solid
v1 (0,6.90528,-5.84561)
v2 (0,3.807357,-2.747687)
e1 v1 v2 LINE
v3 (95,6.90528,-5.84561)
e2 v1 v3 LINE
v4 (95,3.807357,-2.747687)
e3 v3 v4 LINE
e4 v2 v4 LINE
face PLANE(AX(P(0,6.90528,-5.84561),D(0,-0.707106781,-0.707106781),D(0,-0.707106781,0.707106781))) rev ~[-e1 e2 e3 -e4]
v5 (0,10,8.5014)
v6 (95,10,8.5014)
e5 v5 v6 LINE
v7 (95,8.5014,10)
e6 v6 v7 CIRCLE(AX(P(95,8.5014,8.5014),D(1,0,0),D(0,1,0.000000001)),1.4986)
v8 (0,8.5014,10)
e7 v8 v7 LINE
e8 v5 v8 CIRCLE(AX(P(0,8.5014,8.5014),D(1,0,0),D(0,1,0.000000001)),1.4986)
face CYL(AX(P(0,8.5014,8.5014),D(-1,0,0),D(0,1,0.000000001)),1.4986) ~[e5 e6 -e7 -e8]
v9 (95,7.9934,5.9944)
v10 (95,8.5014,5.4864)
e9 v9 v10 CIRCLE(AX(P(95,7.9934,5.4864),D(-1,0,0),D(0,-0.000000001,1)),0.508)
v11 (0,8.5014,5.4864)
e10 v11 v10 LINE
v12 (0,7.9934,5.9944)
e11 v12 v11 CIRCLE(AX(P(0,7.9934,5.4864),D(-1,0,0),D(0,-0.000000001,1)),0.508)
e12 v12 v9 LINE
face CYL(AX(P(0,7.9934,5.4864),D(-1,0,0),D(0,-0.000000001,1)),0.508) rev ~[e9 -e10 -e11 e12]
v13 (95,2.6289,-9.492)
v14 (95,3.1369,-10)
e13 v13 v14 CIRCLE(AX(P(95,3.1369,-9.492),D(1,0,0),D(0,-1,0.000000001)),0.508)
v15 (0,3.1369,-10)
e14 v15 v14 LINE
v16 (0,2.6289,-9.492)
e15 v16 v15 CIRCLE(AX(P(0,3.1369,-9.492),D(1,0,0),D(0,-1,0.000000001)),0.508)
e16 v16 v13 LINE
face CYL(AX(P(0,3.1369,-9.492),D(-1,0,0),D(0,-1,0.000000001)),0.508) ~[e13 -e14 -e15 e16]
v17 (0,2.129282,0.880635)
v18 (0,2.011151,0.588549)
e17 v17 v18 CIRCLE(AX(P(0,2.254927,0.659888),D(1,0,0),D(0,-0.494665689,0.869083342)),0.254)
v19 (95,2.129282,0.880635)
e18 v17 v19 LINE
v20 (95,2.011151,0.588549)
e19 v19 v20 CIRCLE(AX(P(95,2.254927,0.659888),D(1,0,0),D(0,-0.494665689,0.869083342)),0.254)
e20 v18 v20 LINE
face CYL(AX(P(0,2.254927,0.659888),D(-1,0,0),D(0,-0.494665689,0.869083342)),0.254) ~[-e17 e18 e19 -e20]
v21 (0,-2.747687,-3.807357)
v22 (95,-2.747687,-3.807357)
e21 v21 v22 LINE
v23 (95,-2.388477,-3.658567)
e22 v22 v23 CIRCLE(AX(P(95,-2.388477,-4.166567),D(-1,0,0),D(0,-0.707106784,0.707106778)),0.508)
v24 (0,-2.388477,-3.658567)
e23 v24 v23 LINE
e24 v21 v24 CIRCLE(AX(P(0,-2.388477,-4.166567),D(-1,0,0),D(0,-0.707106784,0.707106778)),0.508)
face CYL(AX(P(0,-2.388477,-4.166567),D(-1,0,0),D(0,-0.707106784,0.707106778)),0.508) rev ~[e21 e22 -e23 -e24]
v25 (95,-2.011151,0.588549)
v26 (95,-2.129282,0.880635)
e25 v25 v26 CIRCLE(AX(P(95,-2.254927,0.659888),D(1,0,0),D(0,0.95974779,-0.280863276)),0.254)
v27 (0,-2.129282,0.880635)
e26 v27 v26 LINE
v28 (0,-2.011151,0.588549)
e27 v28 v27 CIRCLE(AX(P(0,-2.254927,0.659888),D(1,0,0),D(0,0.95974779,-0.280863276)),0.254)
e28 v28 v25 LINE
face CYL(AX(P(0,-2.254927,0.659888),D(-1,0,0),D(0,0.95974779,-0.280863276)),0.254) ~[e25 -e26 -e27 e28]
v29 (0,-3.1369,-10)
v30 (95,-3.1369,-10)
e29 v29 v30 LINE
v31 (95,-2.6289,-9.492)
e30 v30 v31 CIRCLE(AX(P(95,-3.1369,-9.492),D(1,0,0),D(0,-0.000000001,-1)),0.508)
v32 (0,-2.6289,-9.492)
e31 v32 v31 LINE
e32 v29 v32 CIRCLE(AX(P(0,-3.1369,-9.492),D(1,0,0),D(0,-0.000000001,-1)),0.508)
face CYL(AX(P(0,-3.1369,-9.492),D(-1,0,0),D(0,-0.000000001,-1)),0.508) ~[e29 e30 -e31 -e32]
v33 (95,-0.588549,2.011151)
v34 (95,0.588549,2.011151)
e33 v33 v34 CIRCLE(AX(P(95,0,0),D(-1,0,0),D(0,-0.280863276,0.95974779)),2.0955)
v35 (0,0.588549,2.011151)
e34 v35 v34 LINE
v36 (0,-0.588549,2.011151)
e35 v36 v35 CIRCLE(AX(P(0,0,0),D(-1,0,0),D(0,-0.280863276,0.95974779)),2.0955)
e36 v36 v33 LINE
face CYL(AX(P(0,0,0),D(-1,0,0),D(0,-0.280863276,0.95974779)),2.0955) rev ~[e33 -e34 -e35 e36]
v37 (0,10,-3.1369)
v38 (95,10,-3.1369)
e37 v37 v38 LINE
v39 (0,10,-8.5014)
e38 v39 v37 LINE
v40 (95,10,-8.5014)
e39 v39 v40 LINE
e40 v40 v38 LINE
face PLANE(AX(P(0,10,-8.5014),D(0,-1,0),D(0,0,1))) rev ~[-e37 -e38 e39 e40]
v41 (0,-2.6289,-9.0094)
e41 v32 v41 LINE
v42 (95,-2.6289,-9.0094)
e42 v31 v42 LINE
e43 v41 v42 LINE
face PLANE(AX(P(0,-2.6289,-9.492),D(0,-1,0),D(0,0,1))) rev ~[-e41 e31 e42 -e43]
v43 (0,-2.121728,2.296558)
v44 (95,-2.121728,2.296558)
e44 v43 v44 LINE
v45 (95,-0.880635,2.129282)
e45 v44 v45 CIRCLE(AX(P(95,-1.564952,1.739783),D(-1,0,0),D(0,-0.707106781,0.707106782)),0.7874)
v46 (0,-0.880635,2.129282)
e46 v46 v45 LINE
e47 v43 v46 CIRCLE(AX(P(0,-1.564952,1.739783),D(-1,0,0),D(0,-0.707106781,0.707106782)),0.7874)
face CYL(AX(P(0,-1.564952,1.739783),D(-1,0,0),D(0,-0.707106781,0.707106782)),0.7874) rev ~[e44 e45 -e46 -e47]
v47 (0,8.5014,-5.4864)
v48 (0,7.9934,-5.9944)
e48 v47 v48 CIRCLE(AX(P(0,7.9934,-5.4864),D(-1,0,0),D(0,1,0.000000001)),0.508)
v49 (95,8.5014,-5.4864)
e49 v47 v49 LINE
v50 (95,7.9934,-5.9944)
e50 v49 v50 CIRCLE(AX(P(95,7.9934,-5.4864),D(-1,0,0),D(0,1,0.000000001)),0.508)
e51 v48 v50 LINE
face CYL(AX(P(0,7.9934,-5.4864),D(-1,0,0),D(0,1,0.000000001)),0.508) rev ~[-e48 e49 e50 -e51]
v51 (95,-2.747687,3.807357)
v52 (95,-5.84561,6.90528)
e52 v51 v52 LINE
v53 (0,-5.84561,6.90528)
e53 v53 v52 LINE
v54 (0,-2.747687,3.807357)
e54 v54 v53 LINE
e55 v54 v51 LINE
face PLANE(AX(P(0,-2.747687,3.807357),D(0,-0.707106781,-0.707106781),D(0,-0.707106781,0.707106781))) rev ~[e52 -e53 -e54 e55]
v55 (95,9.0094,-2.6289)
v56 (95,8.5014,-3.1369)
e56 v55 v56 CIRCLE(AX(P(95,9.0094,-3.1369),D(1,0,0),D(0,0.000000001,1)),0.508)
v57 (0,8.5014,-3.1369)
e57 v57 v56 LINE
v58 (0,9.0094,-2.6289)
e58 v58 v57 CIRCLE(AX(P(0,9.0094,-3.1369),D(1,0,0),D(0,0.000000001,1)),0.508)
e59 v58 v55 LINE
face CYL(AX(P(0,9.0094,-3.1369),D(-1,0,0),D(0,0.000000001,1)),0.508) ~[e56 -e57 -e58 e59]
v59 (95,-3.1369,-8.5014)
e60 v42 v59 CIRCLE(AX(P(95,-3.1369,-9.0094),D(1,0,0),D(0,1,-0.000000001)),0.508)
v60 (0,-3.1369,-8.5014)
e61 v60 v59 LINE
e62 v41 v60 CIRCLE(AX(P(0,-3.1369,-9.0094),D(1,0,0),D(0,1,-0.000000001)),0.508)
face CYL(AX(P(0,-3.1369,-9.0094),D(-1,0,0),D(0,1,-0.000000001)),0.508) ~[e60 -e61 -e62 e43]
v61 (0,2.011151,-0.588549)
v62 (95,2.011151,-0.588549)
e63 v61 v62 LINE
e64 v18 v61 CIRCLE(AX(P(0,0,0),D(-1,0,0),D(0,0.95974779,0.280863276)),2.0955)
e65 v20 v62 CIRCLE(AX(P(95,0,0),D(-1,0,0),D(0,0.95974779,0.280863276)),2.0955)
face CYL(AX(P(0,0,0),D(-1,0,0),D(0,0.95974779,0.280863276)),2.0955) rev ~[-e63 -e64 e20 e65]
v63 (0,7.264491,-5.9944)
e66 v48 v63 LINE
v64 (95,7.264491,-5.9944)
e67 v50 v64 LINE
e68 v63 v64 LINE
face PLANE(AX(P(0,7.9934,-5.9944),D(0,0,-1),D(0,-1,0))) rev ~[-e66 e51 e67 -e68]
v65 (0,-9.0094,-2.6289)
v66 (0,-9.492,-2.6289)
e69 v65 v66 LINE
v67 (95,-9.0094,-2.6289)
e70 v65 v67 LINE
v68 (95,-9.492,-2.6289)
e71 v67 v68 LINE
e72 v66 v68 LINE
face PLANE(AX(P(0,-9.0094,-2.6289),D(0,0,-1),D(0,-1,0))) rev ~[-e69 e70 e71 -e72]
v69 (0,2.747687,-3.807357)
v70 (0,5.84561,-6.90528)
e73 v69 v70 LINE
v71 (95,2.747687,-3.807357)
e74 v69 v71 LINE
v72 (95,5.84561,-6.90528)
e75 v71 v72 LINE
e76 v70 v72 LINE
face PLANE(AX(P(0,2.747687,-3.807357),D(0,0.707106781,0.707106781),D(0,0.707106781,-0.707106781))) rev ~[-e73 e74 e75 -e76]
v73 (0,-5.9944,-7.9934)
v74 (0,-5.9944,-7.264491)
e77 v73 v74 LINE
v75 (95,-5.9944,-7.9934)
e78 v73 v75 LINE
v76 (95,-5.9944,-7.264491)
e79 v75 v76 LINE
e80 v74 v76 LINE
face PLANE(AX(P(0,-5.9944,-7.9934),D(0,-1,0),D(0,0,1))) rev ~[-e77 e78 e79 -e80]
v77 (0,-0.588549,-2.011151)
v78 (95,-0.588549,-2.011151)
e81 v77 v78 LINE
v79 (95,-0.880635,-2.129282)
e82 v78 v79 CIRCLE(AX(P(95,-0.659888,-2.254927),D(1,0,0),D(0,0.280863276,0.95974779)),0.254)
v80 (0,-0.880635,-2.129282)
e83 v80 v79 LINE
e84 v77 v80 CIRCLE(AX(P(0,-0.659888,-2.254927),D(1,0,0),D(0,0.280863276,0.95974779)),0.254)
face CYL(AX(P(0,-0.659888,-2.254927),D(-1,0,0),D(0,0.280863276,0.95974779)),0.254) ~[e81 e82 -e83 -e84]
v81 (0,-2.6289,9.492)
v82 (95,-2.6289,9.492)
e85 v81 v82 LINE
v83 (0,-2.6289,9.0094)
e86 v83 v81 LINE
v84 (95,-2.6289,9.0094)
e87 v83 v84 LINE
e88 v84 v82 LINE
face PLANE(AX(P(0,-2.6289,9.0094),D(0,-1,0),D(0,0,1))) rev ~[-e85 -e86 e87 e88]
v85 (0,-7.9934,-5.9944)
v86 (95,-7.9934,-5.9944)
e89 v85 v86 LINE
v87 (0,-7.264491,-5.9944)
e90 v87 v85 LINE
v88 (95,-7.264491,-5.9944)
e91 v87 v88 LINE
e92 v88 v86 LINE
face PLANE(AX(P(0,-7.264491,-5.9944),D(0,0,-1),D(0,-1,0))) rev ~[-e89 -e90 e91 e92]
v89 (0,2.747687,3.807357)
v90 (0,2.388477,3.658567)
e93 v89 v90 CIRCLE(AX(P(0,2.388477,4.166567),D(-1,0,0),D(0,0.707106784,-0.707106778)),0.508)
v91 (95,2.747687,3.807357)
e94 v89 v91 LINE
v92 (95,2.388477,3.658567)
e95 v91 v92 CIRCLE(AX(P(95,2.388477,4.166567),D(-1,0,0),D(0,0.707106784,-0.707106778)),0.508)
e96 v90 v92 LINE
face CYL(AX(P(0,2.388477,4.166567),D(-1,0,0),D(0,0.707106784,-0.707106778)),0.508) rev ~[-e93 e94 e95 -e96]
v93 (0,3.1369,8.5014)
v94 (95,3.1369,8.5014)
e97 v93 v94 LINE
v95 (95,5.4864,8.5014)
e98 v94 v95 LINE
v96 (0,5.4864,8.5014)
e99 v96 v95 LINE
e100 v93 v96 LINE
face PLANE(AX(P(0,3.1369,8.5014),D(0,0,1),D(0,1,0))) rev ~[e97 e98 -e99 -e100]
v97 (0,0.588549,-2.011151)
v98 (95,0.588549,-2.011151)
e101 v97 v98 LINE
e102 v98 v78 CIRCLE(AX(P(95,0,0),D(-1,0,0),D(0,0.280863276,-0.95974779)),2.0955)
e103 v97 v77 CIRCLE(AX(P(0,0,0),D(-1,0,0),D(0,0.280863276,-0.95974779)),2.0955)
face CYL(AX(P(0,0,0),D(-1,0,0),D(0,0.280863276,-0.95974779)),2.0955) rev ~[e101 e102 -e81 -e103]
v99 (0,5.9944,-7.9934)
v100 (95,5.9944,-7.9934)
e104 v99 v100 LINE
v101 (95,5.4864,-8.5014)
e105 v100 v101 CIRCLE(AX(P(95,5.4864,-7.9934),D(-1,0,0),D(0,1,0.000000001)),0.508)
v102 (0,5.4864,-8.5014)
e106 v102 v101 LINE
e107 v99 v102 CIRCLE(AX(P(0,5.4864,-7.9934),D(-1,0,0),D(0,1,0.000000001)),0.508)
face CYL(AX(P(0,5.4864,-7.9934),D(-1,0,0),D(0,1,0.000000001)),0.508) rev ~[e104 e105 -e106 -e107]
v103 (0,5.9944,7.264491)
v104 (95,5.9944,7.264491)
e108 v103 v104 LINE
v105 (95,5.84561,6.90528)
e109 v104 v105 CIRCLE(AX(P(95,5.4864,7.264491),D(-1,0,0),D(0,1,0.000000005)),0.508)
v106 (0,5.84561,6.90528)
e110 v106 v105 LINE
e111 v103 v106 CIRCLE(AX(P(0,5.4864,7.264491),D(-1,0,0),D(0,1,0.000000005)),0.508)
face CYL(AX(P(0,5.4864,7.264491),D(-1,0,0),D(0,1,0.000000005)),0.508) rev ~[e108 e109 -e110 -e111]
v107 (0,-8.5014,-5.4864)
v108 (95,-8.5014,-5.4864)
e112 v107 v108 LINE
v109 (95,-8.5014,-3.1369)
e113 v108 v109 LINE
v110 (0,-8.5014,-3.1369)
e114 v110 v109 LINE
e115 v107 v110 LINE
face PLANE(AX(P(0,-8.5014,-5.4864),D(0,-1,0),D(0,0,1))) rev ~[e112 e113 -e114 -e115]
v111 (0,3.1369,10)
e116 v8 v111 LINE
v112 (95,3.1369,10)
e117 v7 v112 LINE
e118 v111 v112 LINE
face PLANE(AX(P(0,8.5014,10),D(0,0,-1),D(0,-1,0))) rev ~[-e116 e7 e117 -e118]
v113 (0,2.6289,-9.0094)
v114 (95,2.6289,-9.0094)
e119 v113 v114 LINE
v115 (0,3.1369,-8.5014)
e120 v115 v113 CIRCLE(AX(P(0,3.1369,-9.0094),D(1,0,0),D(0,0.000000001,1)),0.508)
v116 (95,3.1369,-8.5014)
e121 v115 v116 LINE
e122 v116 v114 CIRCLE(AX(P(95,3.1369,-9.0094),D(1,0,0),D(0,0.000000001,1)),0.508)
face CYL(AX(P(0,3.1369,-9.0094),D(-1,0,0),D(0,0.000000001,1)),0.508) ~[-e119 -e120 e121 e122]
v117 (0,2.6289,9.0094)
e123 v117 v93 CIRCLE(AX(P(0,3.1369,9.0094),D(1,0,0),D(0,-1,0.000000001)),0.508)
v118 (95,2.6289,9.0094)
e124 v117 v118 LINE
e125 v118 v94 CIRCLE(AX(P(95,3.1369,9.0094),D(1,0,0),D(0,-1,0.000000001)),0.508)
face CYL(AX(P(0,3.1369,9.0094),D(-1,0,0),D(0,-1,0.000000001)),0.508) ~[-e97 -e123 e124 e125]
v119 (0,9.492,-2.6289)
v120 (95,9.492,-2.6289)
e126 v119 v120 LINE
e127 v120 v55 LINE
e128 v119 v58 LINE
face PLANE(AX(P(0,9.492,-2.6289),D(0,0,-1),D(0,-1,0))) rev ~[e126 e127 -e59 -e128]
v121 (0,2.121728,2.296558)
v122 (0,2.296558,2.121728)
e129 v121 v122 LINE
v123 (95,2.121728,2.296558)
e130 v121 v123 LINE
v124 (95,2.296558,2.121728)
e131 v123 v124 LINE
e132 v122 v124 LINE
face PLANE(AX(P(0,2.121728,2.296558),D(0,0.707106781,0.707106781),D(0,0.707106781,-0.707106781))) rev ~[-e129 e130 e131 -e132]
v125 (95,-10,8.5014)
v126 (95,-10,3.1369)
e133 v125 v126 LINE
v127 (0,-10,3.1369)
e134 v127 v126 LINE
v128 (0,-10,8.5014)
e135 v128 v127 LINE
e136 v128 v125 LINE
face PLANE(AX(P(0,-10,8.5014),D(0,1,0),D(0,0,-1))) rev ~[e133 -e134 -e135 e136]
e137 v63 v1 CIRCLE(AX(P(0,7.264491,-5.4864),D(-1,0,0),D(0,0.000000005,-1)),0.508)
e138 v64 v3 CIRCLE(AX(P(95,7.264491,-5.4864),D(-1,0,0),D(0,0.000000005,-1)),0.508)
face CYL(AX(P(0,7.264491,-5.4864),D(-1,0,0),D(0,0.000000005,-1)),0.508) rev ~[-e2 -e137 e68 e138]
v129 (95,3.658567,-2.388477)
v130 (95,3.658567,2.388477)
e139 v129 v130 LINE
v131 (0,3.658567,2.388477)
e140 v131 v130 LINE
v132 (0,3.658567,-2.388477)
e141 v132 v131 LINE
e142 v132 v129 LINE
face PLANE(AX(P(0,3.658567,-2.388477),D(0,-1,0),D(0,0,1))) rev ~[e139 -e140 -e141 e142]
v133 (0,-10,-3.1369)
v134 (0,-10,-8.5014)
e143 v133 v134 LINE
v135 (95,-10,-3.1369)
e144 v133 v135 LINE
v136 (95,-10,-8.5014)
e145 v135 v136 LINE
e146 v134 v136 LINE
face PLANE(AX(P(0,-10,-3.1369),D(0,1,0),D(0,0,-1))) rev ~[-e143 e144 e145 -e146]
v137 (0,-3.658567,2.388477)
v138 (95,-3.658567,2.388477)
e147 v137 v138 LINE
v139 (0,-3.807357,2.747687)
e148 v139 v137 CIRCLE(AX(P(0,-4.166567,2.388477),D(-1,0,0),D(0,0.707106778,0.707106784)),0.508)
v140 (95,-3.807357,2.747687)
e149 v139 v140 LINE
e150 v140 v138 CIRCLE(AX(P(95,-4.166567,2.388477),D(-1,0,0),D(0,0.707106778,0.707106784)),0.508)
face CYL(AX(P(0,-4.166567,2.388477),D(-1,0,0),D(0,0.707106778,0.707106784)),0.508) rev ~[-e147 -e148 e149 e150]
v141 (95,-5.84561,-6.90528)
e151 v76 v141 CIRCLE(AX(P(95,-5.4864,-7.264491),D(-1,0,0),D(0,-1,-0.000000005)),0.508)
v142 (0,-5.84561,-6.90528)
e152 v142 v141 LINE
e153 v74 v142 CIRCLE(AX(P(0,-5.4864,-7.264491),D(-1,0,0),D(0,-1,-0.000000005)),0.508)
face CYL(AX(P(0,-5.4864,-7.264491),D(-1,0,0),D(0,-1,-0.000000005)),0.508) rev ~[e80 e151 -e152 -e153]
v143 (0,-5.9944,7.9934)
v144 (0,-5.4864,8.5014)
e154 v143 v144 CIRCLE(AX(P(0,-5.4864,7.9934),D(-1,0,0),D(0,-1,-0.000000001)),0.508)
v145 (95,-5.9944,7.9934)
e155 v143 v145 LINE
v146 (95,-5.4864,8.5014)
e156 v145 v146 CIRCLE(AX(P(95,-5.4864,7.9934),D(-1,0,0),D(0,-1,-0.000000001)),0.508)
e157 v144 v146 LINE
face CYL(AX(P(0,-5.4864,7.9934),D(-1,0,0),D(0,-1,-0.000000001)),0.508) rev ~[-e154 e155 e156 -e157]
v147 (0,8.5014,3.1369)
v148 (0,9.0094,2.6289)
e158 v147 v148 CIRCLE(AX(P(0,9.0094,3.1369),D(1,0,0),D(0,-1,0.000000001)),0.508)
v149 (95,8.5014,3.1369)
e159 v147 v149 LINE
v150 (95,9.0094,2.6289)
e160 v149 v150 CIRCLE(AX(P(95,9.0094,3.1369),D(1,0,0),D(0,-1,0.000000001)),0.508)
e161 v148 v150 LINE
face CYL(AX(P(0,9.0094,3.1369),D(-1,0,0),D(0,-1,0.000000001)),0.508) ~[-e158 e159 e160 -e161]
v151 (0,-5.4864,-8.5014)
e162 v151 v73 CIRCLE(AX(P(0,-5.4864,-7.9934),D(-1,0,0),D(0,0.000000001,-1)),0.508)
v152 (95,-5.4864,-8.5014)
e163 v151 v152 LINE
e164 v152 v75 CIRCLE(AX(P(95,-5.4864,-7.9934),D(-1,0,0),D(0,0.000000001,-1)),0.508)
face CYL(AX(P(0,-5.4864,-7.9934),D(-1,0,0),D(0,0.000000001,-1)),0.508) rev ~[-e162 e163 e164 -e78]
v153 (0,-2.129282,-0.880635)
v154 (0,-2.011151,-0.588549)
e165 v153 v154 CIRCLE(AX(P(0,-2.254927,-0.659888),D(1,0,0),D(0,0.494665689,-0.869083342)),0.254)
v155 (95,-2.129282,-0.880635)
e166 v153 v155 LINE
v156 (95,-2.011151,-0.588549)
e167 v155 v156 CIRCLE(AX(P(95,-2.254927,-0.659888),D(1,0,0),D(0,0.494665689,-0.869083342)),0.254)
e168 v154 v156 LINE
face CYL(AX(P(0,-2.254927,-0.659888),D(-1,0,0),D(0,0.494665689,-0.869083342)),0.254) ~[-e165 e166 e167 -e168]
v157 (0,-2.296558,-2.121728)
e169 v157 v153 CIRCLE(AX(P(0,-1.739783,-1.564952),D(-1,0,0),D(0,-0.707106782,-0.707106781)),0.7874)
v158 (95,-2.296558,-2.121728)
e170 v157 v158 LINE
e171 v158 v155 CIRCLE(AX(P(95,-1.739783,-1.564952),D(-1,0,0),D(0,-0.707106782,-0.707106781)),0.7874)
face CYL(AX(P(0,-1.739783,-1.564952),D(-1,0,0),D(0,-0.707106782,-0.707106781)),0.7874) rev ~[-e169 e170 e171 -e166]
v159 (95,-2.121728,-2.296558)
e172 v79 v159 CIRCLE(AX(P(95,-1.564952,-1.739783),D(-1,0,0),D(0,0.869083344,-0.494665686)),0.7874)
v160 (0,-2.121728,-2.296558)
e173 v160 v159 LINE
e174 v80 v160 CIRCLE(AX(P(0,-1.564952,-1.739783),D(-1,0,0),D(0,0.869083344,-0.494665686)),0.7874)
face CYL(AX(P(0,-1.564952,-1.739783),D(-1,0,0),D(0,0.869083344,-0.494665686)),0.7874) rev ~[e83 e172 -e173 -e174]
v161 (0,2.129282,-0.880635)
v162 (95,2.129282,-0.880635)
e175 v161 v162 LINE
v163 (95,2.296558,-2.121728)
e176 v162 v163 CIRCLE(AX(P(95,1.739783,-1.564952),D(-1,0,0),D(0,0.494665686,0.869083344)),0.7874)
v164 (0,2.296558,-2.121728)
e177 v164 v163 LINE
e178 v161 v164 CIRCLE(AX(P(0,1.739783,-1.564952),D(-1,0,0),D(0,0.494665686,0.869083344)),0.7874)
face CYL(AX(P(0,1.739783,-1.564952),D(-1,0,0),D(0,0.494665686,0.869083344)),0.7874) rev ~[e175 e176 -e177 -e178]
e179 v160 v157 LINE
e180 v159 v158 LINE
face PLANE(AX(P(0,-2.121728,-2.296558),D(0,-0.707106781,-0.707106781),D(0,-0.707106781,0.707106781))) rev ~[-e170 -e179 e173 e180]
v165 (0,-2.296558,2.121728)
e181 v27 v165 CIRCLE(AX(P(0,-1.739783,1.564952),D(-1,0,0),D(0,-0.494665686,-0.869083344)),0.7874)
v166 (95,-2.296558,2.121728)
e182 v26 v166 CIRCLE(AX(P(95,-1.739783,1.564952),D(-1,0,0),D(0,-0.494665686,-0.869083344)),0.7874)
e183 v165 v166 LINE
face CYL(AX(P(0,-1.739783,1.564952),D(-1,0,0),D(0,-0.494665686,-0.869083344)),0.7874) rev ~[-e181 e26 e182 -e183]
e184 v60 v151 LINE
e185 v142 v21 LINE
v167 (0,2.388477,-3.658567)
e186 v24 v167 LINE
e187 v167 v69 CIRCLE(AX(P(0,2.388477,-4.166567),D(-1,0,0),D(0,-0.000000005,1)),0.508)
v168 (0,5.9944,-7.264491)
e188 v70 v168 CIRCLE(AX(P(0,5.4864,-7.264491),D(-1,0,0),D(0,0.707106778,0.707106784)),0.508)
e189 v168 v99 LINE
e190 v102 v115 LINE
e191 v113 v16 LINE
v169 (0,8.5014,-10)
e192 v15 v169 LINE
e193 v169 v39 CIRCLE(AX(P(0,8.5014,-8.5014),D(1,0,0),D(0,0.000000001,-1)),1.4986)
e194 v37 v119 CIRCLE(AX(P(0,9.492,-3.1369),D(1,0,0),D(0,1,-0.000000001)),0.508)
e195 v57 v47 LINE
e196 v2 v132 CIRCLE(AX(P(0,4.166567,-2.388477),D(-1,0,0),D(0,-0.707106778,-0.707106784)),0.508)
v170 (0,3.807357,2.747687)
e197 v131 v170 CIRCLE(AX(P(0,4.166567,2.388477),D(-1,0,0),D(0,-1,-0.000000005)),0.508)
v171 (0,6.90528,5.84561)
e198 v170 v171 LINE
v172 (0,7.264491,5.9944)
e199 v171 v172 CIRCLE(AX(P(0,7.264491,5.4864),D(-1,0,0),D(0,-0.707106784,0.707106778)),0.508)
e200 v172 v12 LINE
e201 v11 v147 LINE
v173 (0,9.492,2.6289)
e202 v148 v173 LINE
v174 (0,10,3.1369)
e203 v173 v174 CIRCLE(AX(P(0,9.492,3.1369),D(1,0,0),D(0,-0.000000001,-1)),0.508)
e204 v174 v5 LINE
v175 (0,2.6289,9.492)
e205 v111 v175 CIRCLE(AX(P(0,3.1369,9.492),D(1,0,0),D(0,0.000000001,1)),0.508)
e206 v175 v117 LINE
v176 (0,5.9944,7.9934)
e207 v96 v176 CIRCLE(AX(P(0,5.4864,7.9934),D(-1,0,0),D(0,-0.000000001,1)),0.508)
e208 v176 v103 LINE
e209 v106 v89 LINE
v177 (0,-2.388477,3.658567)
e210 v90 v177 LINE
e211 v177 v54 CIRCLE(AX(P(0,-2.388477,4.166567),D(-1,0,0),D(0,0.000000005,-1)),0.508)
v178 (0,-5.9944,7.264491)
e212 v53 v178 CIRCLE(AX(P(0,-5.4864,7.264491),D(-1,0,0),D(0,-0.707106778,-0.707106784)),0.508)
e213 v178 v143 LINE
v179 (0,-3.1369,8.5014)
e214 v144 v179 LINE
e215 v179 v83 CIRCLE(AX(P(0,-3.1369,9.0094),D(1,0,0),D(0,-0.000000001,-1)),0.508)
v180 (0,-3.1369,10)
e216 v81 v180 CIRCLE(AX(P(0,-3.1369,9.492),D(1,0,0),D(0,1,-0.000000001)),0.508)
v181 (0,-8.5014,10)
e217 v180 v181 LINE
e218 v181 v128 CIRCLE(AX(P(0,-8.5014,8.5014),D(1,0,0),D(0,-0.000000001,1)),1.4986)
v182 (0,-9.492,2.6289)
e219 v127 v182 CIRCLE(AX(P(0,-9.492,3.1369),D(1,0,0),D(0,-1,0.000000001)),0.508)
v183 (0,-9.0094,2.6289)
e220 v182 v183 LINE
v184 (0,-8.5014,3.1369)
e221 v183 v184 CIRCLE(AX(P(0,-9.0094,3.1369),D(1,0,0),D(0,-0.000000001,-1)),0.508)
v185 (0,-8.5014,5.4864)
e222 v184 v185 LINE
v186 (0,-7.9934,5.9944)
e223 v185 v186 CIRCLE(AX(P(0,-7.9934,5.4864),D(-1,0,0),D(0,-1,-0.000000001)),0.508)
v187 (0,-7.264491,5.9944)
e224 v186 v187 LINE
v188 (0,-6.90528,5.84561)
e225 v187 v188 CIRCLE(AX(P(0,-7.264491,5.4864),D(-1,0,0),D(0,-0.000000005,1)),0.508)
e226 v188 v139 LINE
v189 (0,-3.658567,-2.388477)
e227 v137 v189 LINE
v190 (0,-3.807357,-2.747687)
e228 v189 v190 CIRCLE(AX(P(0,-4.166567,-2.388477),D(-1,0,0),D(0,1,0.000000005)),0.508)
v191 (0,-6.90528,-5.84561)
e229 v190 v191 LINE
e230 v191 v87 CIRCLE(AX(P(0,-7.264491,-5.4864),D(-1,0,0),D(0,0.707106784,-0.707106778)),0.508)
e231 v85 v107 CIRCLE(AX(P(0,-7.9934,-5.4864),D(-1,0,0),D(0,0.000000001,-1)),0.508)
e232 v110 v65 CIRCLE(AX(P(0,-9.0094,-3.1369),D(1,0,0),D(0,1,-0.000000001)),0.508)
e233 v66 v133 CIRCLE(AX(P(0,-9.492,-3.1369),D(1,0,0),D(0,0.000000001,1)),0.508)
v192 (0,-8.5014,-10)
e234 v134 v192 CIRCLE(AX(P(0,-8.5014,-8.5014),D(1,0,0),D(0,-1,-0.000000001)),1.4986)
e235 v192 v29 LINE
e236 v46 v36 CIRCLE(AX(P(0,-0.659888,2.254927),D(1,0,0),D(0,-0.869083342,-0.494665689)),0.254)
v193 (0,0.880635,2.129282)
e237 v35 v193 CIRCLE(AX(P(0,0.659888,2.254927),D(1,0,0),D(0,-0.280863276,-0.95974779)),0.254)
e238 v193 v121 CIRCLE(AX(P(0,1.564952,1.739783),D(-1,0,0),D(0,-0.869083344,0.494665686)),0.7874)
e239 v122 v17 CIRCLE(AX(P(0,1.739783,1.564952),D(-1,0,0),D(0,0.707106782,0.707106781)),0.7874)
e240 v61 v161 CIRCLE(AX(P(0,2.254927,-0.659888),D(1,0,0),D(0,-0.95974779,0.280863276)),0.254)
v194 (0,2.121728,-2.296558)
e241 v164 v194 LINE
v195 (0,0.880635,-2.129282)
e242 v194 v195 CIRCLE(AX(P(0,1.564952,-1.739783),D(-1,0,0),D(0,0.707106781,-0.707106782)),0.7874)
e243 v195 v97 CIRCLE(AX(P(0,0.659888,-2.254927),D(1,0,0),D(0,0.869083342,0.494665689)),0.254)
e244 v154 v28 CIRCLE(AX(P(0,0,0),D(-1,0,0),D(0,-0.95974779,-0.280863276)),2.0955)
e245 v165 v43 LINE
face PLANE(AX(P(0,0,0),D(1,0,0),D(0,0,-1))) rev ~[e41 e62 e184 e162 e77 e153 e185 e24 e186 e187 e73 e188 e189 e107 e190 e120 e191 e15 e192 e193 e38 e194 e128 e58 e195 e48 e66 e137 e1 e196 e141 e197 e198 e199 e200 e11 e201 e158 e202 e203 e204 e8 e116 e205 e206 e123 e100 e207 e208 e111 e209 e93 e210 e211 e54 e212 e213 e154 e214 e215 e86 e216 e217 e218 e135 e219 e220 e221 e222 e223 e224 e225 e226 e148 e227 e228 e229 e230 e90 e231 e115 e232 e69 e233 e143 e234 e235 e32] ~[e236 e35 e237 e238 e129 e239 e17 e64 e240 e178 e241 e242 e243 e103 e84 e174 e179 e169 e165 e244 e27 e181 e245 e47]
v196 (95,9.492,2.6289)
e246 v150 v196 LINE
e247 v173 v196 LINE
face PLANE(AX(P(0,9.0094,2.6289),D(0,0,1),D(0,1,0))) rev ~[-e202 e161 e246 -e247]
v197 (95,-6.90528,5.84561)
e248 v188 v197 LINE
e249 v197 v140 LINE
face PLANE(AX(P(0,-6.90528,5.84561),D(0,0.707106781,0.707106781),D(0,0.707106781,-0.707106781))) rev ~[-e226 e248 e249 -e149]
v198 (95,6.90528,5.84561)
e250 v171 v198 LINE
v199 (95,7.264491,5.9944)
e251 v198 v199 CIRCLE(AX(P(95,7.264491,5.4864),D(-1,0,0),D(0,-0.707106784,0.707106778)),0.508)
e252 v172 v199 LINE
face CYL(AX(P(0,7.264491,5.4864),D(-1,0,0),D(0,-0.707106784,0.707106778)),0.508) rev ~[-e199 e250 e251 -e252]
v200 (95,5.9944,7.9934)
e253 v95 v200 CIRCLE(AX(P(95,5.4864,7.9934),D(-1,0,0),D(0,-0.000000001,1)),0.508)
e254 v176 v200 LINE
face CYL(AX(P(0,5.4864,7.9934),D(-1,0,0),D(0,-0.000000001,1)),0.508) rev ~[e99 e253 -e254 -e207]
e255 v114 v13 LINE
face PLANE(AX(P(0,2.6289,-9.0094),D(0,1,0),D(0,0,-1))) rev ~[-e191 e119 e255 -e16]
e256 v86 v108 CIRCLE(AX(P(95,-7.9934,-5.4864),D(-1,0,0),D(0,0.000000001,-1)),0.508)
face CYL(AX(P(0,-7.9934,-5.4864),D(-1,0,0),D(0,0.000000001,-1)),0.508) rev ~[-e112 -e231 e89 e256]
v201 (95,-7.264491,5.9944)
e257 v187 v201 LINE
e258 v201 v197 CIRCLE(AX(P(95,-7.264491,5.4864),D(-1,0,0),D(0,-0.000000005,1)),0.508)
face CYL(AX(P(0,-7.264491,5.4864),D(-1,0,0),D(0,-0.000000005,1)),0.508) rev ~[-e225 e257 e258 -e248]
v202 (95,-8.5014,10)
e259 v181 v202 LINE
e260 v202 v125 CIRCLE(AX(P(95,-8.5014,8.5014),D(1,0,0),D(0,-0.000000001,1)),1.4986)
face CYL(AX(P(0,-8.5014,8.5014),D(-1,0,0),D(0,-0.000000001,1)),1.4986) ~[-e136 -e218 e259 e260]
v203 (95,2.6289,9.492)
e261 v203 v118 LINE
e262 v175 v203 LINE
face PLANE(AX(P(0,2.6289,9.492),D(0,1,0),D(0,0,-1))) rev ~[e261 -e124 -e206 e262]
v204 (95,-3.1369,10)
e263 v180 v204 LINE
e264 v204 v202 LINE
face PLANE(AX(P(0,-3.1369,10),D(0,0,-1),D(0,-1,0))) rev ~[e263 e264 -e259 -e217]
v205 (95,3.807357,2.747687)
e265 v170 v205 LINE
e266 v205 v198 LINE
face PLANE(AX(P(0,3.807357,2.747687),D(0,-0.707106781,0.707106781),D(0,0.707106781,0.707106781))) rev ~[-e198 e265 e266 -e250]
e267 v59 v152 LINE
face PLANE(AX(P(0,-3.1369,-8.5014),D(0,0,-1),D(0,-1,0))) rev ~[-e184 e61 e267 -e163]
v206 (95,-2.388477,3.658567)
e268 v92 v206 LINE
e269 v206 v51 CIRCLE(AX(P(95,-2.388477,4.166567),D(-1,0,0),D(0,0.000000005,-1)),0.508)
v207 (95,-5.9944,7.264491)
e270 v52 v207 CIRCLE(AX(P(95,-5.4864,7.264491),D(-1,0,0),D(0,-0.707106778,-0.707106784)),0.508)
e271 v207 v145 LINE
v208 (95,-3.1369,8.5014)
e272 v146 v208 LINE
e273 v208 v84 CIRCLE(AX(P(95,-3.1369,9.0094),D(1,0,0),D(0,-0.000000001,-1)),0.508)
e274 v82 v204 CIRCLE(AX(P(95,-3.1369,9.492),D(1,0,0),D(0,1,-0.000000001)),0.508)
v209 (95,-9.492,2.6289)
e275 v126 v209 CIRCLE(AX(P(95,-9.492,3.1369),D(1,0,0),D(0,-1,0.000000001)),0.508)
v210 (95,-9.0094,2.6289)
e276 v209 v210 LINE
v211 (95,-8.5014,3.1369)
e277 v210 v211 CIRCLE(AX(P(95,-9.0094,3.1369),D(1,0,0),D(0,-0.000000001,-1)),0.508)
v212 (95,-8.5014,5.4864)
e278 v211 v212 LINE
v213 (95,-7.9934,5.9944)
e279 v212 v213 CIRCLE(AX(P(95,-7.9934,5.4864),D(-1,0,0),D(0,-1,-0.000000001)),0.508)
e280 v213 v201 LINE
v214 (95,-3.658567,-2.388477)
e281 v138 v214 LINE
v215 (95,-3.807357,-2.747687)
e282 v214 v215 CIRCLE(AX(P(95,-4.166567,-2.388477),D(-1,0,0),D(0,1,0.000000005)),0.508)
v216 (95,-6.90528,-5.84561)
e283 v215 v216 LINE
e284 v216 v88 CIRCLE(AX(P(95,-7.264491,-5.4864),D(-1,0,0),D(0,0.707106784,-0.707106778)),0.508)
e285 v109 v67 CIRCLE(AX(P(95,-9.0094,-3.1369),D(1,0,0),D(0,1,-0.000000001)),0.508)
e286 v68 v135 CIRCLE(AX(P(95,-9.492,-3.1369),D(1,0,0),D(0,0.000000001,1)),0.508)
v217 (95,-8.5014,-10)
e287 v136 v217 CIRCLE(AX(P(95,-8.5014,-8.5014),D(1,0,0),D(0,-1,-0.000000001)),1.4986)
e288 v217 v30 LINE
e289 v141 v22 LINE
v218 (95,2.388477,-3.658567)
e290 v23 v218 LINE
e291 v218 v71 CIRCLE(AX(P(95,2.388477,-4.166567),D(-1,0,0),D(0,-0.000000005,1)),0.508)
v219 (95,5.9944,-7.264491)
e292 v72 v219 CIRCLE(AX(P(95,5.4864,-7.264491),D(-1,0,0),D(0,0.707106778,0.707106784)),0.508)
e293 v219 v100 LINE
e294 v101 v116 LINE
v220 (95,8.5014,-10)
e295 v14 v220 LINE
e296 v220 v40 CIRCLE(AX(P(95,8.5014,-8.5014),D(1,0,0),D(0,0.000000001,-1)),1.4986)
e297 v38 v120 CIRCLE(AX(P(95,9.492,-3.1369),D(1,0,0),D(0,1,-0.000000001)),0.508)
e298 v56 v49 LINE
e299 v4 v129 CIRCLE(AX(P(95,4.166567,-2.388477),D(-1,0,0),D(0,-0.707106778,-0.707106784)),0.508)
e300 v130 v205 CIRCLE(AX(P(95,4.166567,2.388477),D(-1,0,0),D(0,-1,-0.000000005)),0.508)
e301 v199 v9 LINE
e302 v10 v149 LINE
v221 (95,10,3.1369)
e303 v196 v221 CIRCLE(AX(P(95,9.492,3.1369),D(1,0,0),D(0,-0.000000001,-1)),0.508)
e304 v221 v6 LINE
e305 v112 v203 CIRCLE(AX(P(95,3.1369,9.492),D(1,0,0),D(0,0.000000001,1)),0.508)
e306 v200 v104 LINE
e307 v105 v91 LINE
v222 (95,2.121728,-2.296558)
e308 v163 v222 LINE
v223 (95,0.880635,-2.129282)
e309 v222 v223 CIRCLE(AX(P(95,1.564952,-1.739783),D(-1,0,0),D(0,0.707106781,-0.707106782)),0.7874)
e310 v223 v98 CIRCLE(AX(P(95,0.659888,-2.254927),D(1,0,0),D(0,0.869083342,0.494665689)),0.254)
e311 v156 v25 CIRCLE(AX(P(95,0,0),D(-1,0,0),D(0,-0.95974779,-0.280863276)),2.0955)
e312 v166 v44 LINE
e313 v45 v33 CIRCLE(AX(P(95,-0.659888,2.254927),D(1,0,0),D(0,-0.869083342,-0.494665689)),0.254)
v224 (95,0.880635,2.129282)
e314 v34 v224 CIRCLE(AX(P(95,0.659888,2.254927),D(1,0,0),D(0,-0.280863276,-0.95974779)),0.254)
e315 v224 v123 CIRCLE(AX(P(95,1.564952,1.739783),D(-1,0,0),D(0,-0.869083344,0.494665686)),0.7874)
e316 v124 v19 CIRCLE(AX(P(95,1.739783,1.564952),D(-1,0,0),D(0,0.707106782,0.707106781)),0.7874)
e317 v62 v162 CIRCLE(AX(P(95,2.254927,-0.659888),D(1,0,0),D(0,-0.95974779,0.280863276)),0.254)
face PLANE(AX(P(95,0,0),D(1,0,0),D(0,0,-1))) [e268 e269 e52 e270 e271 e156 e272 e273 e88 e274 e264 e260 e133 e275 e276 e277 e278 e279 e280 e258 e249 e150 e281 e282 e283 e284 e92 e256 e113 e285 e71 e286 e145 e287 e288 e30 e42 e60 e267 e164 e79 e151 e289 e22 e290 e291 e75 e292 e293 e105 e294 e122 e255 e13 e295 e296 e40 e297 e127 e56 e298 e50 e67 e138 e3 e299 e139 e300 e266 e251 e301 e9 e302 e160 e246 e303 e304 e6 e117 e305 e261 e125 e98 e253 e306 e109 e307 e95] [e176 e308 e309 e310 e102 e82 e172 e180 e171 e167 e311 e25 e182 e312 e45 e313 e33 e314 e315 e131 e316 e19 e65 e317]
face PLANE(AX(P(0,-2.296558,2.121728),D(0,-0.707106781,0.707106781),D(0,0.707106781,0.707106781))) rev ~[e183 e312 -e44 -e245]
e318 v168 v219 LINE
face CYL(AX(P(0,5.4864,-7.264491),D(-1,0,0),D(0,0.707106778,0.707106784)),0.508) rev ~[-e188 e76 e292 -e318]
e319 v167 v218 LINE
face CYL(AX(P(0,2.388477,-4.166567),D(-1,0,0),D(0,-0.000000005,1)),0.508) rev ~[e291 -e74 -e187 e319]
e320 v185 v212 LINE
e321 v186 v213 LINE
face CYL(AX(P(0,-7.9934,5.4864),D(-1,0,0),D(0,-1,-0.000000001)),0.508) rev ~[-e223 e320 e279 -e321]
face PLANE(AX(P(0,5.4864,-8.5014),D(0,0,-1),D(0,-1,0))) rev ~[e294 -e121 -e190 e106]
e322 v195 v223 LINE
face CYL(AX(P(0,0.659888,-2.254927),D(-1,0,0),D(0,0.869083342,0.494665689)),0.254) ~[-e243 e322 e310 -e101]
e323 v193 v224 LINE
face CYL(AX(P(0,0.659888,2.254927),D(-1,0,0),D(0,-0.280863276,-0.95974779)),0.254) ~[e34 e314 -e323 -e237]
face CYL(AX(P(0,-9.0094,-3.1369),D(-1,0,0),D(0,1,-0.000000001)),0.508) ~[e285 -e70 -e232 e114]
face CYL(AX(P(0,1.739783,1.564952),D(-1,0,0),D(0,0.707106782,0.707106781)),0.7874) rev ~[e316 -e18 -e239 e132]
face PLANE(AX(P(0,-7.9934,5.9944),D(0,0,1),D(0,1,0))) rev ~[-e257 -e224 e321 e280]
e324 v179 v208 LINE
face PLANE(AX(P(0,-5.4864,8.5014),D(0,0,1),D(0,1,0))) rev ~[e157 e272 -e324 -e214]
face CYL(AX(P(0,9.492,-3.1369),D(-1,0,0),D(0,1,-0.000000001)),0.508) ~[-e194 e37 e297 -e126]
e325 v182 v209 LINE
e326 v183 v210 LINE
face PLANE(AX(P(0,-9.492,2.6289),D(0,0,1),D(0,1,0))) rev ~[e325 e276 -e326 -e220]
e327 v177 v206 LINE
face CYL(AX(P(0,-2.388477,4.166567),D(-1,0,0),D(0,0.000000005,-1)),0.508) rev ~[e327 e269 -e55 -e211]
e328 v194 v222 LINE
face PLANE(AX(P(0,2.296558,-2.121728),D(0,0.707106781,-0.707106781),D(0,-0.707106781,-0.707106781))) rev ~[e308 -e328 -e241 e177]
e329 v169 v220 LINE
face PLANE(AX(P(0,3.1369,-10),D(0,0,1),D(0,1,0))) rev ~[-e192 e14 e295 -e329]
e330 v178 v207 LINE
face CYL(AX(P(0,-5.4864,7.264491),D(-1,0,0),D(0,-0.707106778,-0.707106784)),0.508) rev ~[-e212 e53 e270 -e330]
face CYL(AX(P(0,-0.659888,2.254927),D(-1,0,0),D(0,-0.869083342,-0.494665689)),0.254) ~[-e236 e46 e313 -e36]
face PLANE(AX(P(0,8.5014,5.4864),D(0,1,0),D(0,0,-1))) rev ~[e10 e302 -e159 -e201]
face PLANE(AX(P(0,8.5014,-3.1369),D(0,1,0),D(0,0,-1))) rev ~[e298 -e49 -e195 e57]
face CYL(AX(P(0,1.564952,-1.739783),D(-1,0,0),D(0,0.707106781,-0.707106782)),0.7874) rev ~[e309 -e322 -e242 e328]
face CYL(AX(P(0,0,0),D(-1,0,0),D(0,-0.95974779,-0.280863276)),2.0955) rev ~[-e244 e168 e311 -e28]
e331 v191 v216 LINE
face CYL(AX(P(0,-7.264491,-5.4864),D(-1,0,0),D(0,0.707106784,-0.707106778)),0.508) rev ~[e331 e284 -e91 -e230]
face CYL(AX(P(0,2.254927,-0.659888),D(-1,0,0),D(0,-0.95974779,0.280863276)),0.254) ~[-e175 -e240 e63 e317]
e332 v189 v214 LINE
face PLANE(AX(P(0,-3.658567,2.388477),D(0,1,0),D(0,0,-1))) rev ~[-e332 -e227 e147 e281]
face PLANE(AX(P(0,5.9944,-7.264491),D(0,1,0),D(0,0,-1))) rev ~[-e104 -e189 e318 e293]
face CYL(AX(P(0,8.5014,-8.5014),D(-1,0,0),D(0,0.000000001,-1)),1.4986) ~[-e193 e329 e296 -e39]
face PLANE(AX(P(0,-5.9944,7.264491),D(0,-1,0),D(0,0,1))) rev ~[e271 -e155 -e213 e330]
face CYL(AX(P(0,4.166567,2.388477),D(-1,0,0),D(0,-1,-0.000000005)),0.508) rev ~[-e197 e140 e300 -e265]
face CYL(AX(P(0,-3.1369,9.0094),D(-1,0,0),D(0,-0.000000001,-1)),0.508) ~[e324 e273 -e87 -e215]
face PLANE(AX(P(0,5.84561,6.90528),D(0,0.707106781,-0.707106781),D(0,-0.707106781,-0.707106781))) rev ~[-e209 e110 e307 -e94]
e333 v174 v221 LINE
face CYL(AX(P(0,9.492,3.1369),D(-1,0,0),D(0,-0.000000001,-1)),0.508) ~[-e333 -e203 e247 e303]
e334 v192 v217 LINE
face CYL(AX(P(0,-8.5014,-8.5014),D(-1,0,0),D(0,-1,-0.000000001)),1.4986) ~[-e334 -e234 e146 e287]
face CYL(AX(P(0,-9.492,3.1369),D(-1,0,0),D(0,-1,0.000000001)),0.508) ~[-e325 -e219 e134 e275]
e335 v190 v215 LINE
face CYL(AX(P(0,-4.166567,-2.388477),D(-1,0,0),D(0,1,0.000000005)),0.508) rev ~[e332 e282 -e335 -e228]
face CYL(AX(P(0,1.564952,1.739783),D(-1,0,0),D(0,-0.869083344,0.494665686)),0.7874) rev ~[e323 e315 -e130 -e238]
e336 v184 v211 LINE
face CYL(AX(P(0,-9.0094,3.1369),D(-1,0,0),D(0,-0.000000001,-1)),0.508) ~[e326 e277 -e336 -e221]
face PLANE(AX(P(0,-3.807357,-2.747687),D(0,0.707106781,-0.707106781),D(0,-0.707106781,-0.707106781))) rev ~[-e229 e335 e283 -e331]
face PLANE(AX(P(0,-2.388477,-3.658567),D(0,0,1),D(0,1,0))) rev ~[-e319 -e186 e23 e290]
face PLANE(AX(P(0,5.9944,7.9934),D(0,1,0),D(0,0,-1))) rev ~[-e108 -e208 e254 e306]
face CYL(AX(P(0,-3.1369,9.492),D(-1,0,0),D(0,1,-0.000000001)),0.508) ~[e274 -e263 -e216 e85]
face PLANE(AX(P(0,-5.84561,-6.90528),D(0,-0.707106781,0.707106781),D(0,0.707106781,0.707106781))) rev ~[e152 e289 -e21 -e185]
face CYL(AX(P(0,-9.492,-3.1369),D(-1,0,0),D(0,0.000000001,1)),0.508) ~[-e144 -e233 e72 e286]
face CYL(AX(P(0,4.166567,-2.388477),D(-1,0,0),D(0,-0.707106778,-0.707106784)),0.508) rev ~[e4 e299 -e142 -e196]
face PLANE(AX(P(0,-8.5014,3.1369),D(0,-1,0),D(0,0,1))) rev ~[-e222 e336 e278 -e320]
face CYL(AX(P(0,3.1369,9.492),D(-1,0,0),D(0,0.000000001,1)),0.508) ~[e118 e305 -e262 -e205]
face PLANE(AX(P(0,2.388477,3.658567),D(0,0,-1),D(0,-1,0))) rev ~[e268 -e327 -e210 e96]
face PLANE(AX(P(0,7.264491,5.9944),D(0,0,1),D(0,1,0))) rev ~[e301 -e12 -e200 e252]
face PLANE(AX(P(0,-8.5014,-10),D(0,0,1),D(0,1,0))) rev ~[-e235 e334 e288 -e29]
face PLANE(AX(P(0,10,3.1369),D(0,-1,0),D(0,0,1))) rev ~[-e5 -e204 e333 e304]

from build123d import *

# Parameters (mm, degrees)
F_20_SERIES_20_2020_1_DEPTH = 95


with BuildPart() as part:
    # Sketch11 → 20_series 20-2020(1) (new body)
    with BuildSketch(Plane(origin=(0, 0, 0), x_dir=(0, 0, -1), z_dir=(1, 0, 0))):
        with BuildLine():
            Line((9.0094, 2.6289), (9.492, 2.6289))
            ThreePointArc((9.492, 2.6289), (9.851210245, 2.777689755), (10, 3.1369))
            Line((10, 3.1369), (10, 8.5014))
            ThreePointArc((10, 8.5014), (9.561070222, 9.561070222), (8.5014, 10))
            Line((8.5014, 10), (3.1369, 10))
            ThreePointArc((3.1369, 10), (2.777689755, 9.851210245), (2.6289, 9.492))
            Line((2.6289, 9.492), (2.6289, 9.0094))
            ThreePointArc((2.6289, 9.0094), (2.777689755, 8.650189755), (3.1369, 8.5014))
            Line((3.1369, 8.5014), (5.4864, 8.5014))
            ThreePointArc((5.4864, 8.5014), (5.845610245, 8.352610245), (5.9944, 7.9934))
            Line((5.9944, 7.9934), (5.9944, 7.264490712))
            ThreePointArc((5.9944, 7.264490712), (5.955730803, 7.070087528), (5.845610245, 6.905280467))
            Line((5.845610245, 6.905280467), (2.747686782, 3.807357004))
            ThreePointArc((2.747686782, 3.807357004), (2.582879721, 3.697236446), (2.388476537, 3.658567249))
            Line((2.388476537, 3.658567249), (-2.388476537, 3.658567249))
            ThreePointArc((-2.388476537, 3.658567249), (-2.582879721, 3.697236446), (-2.747686782, 3.807357004))
            Line((-2.747686782, 3.807357004), (-5.845610245, 6.905280467))
            ThreePointArc((-5.845610245, 6.905280467), (-5.955730803, 7.070087528), (-5.9944, 7.264490712))
            Line((-5.9944, 7.264490712), (-5.9944, 7.9934))
            ThreePointArc((-5.9944, 7.9934), (-5.845610245, 8.352610245), (-5.4864, 8.5014))
            Line((-5.4864, 8.5014), (-3.1369, 8.5014))
            ThreePointArc((-3.1369, 8.5014), (-2.777689755, 8.650189755), (-2.6289, 9.0094))
            Line((-2.6289, 9.0094), (-2.6289, 9.492))
            ThreePointArc((-2.6289, 9.492), (-2.777689755, 9.851210245), (-3.1369, 10))
            Line((-3.1369, 10), (-8.5014, 10))
            ThreePointArc((-8.5014, 10), (-9.561070222, 9.561070222), (-10, 8.5014))
            Line((-10, 8.5014), (-10, 3.1369))
            ThreePointArc((-10, 3.1369), (-9.851210245, 2.777689755), (-9.492, 2.6289))
            Line((-9.492, 2.6289), (-9.0094, 2.6289))
            ThreePointArc((-9.0094, 2.6289), (-8.650189755, 2.777689755), (-8.5014, 3.1369))
            Line((-8.5014, 3.1369), (-8.5014, 5.4864))
            ThreePointArc((-8.5014, 5.4864), (-8.352610245, 5.845610245), (-7.9934, 5.9944))
            Line((-7.9934, 5.9944), (-7.264490712, 5.9944))
            ThreePointArc((-7.264490712, 5.9944), (-7.070087528, 5.955730803), (-6.905280467, 5.845610245))
            Line((-6.905280467, 5.845610245), (-3.807357004, 2.747686782))
            ThreePointArc((-3.807357004, 2.747686782), (-3.697236446, 2.582879721), (-3.658567249, 2.388476537))
            Line((-3.658567249, 2.388476537), (-3.658567249, -2.388476537))
            ThreePointArc((-3.658567249, -2.388476537), (-3.697236446, -2.582879721), (-3.807357004, -2.747686782))
            Line((-3.807357004, -2.747686782), (-6.905280467, -5.845610245))
            ThreePointArc((-6.905280467, -5.845610245), (-7.070087528, -5.955730803), (-7.264490712, -5.9944))
            Line((-7.264490712, -5.9944), (-7.9934, -5.9944))
            ThreePointArc((-7.9934, -5.9944), (-8.352610245, -5.845610245), (-8.5014, -5.4864))
            Line((-8.5014, -5.4864), (-8.5014, -3.1369))
            ThreePointArc((-8.5014, -3.1369), (-8.650189755, -2.777689755), (-9.0094, -2.6289))
            Line((-9.0094, -2.6289), (-9.492, -2.6289))
            ThreePointArc((-9.492, -2.6289), (-9.851210245, -2.777689755), (-10, -3.1369))
            Line((-10, -3.1369), (-10, -8.5014))
            ThreePointArc((-10, -8.5014), (-9.561070222, -9.561070222), (-8.5014, -10))
            Line((-8.5014, -10), (-3.1369, -10))
            ThreePointArc((-3.1369, -10), (-2.777689755, -9.851210245), (-2.6289, -9.492))
            Line((-2.6289, -9.492), (-2.6289, -9.0094))
            ThreePointArc((-2.6289, -9.0094), (-2.777689755, -8.650189755), (-3.1369, -8.5014))
            Line((-3.1369, -8.5014), (-5.4864, -8.5014))
            ThreePointArc((-5.4864, -8.5014), (-5.845610245, -8.352610245), (-5.9944, -7.9934))
            Line((-5.9944, -7.9934), (-5.9944, -7.264490712))
            ThreePointArc((-5.9944, -7.264490712), (-5.955730803, -7.070087528), (-5.845610245, -6.905280467))
            Line((-5.845610245, -6.905280467), (-2.747686782, -3.807357004))
            ThreePointArc((-2.747686782, -3.807357004), (-2.582879721, -3.697236446), (-2.388476537, -3.658567249))
            Line((-2.388476537, -3.658567249), (2.388476537, -3.658567249))
            ThreePointArc((2.388476537, -3.658567249), (2.582879721, -3.697236446), (2.747686782, -3.807357004))
            Line((2.747686782, -3.807357004), (5.845610245, -6.905280467))
            ThreePointArc((5.845610245, -6.905280467), (5.955730803, -7.070087528), (5.9944, -7.264490712))
            Line((5.9944, -7.264490712), (5.9944, -7.9934))
            ThreePointArc((5.9944, -7.9934), (5.845610245, -8.352610245), (5.4864, -8.5014))
            Line((5.4864, -8.5014), (3.1369, -8.5014))
            ThreePointArc((3.1369, -8.5014), (2.777689755, -8.650189755), (2.6289, -9.0094))
            Line((2.6289, -9.0094), (2.6289, -9.492))
            ThreePointArc((2.6289, -9.492), (2.777689755, -9.851210245), (3.1369, -10))
            Line((3.1369, -10), (8.5014, -10))
            ThreePointArc((8.5014, -10), (9.561070222, -9.561070222), (10, -8.5014))
            Line((10, -8.5014), (10, -3.1369))
            ThreePointArc((10, -3.1369), (9.851210245, -2.777689755), (9.492, -2.6289))
            Line((9.492, -2.6289), (9.0094, -2.6289))
            ThreePointArc((9.0094, -2.6289), (8.650189755, -2.777689755), (8.5014, -3.1369))
            Line((8.5014, -3.1369), (8.5014, -5.4864))
            ThreePointArc((8.5014, -5.4864), (8.352610245, -5.845610245), (7.9934, -5.9944))
            Line((7.9934, -5.9944), (7.264490712, -5.9944))
            ThreePointArc((7.264490712, -5.9944), (7.070087528, -5.955730803), (6.905280467, -5.845610245))
            Line((6.905280467, -5.845610245), (3.807357004, -2.747686782))
            ThreePointArc((3.807357004, -2.747686782), (3.697236446, -2.582879721), (3.658567249, -2.388476537))
            Line((3.658567249, -2.388476537), (3.658567249, 2.388476537))
            ThreePointArc((3.658567249, 2.388476537), (3.697236446, 2.582879721), (3.807357004, 2.747686782))
            Line((3.807357004, 2.747686782), (6.905280467, 5.845610245))
            ThreePointArc((6.905280467, 5.845610245), (7.070087528, 5.955730803), (7.264490712, 5.9944))
            Line((7.264490712, 5.9944), (7.9934, 5.9944))
            ThreePointArc((7.9934, 5.9944), (8.352610245, 5.845610245), (8.5014, 5.4864))
            Line((8.5014, 5.4864), (8.5014, 3.1369))
            ThreePointArc((8.5014, 3.1369), (8.650189755, 2.777689755), (9.0094, 2.6289))
        make_face()
        with BuildLine():
            Line((-2.296558466, 2.121727546), (-2.121727546, 2.296558466))
            ThreePointArc((-2.121727546, 2.296558466), (-1.459775814, 2.520126613), (-0.880635441, 2.129282347))
            ThreePointArc((-0.880635441, 2.129282347), (-0.755121693, 2.019456424), (-0.588548999, 2.011151493))
            ThreePointArc((-0.588548999, 2.011151493), (0, 2.0955), (0.588548999, 2.011151493))
            ThreePointArc((0.588548999, 2.011151493), (0.755121693, 2.019456424), (0.880635441, 2.129282347))
            ThreePointArc((0.880635441, 2.129282347), (1.459775814, 2.520126613), (2.121727546, 2.296558466))
            Line((2.121727546, 2.296558466), (2.296558466, 2.121727546))
            ThreePointArc((2.296558466, 2.121727546), (2.520126613, 1.459775814), (2.129282347, 0.880635441))
            ThreePointArc((2.129282347, 0.880635441), (2.019456424, 0.755121693), (2.011151493, 0.588548999))
            ThreePointArc((2.011151493, 0.588548999), (2.0955, 0), (2.011151493, -0.588548999))
            ThreePointArc((2.011151493, -0.588548999), (2.019456424, -0.755121693), (2.129282347, -0.880635441))
            ThreePointArc((2.129282347, -0.880635441), (2.520126613, -1.459775814), (2.296558466, -2.121727546))
            Line((2.296558466, -2.121727546), (2.121727546, -2.296558466))
            ThreePointArc((2.121727546, -2.296558466), (1.459775814, -2.520126613), (0.880635441, -2.129282347))
            ThreePointArc((0.880635441, -2.129282347), (0.755121693, -2.019456424), (0.588548999, -2.011151493))
            ThreePointArc((0.588548999, -2.011151493), (0, -2.0955), (-0.588548999, -2.011151493))
            ThreePointArc((-0.588548999, -2.011151493), (-0.755121693, -2.019456424), (-0.880635441, -2.129282347))
            ThreePointArc((-0.880635441, -2.129282347), (-1.459775814, -2.520126613), (-2.121727546, -2.296558466))
            Line((-2.121727546, -2.296558466), (-2.296558466, -2.121727546))
            ThreePointArc((-2.296558466, -2.121727546), (-2.520126613, -1.459775814), (-2.129282347, -0.880635441))
            ThreePointArc((-2.129282347, -0.880635441), (-2.019456424, -0.755121693), (-2.011151493, -0.588548999))
            ThreePointArc((-2.011151493, -0.588548999), (-2.0955, 0), (-2.011151493, 0.588548999))
            ThreePointArc((-2.011151493, 0.588548999), (-2.019456424, 0.755121693), (-2.129282347, 0.880635441))
            ThreePointArc((-2.129282347, 0.880635441), (-2.520126613, 1.459775814), (-2.296558466, 2.121727546))
        make_face(mode=Mode.SUBTRACT)
    extrude(amount=F_20_SERIES_20_2020_1_DEPTH)


solid = part.part
